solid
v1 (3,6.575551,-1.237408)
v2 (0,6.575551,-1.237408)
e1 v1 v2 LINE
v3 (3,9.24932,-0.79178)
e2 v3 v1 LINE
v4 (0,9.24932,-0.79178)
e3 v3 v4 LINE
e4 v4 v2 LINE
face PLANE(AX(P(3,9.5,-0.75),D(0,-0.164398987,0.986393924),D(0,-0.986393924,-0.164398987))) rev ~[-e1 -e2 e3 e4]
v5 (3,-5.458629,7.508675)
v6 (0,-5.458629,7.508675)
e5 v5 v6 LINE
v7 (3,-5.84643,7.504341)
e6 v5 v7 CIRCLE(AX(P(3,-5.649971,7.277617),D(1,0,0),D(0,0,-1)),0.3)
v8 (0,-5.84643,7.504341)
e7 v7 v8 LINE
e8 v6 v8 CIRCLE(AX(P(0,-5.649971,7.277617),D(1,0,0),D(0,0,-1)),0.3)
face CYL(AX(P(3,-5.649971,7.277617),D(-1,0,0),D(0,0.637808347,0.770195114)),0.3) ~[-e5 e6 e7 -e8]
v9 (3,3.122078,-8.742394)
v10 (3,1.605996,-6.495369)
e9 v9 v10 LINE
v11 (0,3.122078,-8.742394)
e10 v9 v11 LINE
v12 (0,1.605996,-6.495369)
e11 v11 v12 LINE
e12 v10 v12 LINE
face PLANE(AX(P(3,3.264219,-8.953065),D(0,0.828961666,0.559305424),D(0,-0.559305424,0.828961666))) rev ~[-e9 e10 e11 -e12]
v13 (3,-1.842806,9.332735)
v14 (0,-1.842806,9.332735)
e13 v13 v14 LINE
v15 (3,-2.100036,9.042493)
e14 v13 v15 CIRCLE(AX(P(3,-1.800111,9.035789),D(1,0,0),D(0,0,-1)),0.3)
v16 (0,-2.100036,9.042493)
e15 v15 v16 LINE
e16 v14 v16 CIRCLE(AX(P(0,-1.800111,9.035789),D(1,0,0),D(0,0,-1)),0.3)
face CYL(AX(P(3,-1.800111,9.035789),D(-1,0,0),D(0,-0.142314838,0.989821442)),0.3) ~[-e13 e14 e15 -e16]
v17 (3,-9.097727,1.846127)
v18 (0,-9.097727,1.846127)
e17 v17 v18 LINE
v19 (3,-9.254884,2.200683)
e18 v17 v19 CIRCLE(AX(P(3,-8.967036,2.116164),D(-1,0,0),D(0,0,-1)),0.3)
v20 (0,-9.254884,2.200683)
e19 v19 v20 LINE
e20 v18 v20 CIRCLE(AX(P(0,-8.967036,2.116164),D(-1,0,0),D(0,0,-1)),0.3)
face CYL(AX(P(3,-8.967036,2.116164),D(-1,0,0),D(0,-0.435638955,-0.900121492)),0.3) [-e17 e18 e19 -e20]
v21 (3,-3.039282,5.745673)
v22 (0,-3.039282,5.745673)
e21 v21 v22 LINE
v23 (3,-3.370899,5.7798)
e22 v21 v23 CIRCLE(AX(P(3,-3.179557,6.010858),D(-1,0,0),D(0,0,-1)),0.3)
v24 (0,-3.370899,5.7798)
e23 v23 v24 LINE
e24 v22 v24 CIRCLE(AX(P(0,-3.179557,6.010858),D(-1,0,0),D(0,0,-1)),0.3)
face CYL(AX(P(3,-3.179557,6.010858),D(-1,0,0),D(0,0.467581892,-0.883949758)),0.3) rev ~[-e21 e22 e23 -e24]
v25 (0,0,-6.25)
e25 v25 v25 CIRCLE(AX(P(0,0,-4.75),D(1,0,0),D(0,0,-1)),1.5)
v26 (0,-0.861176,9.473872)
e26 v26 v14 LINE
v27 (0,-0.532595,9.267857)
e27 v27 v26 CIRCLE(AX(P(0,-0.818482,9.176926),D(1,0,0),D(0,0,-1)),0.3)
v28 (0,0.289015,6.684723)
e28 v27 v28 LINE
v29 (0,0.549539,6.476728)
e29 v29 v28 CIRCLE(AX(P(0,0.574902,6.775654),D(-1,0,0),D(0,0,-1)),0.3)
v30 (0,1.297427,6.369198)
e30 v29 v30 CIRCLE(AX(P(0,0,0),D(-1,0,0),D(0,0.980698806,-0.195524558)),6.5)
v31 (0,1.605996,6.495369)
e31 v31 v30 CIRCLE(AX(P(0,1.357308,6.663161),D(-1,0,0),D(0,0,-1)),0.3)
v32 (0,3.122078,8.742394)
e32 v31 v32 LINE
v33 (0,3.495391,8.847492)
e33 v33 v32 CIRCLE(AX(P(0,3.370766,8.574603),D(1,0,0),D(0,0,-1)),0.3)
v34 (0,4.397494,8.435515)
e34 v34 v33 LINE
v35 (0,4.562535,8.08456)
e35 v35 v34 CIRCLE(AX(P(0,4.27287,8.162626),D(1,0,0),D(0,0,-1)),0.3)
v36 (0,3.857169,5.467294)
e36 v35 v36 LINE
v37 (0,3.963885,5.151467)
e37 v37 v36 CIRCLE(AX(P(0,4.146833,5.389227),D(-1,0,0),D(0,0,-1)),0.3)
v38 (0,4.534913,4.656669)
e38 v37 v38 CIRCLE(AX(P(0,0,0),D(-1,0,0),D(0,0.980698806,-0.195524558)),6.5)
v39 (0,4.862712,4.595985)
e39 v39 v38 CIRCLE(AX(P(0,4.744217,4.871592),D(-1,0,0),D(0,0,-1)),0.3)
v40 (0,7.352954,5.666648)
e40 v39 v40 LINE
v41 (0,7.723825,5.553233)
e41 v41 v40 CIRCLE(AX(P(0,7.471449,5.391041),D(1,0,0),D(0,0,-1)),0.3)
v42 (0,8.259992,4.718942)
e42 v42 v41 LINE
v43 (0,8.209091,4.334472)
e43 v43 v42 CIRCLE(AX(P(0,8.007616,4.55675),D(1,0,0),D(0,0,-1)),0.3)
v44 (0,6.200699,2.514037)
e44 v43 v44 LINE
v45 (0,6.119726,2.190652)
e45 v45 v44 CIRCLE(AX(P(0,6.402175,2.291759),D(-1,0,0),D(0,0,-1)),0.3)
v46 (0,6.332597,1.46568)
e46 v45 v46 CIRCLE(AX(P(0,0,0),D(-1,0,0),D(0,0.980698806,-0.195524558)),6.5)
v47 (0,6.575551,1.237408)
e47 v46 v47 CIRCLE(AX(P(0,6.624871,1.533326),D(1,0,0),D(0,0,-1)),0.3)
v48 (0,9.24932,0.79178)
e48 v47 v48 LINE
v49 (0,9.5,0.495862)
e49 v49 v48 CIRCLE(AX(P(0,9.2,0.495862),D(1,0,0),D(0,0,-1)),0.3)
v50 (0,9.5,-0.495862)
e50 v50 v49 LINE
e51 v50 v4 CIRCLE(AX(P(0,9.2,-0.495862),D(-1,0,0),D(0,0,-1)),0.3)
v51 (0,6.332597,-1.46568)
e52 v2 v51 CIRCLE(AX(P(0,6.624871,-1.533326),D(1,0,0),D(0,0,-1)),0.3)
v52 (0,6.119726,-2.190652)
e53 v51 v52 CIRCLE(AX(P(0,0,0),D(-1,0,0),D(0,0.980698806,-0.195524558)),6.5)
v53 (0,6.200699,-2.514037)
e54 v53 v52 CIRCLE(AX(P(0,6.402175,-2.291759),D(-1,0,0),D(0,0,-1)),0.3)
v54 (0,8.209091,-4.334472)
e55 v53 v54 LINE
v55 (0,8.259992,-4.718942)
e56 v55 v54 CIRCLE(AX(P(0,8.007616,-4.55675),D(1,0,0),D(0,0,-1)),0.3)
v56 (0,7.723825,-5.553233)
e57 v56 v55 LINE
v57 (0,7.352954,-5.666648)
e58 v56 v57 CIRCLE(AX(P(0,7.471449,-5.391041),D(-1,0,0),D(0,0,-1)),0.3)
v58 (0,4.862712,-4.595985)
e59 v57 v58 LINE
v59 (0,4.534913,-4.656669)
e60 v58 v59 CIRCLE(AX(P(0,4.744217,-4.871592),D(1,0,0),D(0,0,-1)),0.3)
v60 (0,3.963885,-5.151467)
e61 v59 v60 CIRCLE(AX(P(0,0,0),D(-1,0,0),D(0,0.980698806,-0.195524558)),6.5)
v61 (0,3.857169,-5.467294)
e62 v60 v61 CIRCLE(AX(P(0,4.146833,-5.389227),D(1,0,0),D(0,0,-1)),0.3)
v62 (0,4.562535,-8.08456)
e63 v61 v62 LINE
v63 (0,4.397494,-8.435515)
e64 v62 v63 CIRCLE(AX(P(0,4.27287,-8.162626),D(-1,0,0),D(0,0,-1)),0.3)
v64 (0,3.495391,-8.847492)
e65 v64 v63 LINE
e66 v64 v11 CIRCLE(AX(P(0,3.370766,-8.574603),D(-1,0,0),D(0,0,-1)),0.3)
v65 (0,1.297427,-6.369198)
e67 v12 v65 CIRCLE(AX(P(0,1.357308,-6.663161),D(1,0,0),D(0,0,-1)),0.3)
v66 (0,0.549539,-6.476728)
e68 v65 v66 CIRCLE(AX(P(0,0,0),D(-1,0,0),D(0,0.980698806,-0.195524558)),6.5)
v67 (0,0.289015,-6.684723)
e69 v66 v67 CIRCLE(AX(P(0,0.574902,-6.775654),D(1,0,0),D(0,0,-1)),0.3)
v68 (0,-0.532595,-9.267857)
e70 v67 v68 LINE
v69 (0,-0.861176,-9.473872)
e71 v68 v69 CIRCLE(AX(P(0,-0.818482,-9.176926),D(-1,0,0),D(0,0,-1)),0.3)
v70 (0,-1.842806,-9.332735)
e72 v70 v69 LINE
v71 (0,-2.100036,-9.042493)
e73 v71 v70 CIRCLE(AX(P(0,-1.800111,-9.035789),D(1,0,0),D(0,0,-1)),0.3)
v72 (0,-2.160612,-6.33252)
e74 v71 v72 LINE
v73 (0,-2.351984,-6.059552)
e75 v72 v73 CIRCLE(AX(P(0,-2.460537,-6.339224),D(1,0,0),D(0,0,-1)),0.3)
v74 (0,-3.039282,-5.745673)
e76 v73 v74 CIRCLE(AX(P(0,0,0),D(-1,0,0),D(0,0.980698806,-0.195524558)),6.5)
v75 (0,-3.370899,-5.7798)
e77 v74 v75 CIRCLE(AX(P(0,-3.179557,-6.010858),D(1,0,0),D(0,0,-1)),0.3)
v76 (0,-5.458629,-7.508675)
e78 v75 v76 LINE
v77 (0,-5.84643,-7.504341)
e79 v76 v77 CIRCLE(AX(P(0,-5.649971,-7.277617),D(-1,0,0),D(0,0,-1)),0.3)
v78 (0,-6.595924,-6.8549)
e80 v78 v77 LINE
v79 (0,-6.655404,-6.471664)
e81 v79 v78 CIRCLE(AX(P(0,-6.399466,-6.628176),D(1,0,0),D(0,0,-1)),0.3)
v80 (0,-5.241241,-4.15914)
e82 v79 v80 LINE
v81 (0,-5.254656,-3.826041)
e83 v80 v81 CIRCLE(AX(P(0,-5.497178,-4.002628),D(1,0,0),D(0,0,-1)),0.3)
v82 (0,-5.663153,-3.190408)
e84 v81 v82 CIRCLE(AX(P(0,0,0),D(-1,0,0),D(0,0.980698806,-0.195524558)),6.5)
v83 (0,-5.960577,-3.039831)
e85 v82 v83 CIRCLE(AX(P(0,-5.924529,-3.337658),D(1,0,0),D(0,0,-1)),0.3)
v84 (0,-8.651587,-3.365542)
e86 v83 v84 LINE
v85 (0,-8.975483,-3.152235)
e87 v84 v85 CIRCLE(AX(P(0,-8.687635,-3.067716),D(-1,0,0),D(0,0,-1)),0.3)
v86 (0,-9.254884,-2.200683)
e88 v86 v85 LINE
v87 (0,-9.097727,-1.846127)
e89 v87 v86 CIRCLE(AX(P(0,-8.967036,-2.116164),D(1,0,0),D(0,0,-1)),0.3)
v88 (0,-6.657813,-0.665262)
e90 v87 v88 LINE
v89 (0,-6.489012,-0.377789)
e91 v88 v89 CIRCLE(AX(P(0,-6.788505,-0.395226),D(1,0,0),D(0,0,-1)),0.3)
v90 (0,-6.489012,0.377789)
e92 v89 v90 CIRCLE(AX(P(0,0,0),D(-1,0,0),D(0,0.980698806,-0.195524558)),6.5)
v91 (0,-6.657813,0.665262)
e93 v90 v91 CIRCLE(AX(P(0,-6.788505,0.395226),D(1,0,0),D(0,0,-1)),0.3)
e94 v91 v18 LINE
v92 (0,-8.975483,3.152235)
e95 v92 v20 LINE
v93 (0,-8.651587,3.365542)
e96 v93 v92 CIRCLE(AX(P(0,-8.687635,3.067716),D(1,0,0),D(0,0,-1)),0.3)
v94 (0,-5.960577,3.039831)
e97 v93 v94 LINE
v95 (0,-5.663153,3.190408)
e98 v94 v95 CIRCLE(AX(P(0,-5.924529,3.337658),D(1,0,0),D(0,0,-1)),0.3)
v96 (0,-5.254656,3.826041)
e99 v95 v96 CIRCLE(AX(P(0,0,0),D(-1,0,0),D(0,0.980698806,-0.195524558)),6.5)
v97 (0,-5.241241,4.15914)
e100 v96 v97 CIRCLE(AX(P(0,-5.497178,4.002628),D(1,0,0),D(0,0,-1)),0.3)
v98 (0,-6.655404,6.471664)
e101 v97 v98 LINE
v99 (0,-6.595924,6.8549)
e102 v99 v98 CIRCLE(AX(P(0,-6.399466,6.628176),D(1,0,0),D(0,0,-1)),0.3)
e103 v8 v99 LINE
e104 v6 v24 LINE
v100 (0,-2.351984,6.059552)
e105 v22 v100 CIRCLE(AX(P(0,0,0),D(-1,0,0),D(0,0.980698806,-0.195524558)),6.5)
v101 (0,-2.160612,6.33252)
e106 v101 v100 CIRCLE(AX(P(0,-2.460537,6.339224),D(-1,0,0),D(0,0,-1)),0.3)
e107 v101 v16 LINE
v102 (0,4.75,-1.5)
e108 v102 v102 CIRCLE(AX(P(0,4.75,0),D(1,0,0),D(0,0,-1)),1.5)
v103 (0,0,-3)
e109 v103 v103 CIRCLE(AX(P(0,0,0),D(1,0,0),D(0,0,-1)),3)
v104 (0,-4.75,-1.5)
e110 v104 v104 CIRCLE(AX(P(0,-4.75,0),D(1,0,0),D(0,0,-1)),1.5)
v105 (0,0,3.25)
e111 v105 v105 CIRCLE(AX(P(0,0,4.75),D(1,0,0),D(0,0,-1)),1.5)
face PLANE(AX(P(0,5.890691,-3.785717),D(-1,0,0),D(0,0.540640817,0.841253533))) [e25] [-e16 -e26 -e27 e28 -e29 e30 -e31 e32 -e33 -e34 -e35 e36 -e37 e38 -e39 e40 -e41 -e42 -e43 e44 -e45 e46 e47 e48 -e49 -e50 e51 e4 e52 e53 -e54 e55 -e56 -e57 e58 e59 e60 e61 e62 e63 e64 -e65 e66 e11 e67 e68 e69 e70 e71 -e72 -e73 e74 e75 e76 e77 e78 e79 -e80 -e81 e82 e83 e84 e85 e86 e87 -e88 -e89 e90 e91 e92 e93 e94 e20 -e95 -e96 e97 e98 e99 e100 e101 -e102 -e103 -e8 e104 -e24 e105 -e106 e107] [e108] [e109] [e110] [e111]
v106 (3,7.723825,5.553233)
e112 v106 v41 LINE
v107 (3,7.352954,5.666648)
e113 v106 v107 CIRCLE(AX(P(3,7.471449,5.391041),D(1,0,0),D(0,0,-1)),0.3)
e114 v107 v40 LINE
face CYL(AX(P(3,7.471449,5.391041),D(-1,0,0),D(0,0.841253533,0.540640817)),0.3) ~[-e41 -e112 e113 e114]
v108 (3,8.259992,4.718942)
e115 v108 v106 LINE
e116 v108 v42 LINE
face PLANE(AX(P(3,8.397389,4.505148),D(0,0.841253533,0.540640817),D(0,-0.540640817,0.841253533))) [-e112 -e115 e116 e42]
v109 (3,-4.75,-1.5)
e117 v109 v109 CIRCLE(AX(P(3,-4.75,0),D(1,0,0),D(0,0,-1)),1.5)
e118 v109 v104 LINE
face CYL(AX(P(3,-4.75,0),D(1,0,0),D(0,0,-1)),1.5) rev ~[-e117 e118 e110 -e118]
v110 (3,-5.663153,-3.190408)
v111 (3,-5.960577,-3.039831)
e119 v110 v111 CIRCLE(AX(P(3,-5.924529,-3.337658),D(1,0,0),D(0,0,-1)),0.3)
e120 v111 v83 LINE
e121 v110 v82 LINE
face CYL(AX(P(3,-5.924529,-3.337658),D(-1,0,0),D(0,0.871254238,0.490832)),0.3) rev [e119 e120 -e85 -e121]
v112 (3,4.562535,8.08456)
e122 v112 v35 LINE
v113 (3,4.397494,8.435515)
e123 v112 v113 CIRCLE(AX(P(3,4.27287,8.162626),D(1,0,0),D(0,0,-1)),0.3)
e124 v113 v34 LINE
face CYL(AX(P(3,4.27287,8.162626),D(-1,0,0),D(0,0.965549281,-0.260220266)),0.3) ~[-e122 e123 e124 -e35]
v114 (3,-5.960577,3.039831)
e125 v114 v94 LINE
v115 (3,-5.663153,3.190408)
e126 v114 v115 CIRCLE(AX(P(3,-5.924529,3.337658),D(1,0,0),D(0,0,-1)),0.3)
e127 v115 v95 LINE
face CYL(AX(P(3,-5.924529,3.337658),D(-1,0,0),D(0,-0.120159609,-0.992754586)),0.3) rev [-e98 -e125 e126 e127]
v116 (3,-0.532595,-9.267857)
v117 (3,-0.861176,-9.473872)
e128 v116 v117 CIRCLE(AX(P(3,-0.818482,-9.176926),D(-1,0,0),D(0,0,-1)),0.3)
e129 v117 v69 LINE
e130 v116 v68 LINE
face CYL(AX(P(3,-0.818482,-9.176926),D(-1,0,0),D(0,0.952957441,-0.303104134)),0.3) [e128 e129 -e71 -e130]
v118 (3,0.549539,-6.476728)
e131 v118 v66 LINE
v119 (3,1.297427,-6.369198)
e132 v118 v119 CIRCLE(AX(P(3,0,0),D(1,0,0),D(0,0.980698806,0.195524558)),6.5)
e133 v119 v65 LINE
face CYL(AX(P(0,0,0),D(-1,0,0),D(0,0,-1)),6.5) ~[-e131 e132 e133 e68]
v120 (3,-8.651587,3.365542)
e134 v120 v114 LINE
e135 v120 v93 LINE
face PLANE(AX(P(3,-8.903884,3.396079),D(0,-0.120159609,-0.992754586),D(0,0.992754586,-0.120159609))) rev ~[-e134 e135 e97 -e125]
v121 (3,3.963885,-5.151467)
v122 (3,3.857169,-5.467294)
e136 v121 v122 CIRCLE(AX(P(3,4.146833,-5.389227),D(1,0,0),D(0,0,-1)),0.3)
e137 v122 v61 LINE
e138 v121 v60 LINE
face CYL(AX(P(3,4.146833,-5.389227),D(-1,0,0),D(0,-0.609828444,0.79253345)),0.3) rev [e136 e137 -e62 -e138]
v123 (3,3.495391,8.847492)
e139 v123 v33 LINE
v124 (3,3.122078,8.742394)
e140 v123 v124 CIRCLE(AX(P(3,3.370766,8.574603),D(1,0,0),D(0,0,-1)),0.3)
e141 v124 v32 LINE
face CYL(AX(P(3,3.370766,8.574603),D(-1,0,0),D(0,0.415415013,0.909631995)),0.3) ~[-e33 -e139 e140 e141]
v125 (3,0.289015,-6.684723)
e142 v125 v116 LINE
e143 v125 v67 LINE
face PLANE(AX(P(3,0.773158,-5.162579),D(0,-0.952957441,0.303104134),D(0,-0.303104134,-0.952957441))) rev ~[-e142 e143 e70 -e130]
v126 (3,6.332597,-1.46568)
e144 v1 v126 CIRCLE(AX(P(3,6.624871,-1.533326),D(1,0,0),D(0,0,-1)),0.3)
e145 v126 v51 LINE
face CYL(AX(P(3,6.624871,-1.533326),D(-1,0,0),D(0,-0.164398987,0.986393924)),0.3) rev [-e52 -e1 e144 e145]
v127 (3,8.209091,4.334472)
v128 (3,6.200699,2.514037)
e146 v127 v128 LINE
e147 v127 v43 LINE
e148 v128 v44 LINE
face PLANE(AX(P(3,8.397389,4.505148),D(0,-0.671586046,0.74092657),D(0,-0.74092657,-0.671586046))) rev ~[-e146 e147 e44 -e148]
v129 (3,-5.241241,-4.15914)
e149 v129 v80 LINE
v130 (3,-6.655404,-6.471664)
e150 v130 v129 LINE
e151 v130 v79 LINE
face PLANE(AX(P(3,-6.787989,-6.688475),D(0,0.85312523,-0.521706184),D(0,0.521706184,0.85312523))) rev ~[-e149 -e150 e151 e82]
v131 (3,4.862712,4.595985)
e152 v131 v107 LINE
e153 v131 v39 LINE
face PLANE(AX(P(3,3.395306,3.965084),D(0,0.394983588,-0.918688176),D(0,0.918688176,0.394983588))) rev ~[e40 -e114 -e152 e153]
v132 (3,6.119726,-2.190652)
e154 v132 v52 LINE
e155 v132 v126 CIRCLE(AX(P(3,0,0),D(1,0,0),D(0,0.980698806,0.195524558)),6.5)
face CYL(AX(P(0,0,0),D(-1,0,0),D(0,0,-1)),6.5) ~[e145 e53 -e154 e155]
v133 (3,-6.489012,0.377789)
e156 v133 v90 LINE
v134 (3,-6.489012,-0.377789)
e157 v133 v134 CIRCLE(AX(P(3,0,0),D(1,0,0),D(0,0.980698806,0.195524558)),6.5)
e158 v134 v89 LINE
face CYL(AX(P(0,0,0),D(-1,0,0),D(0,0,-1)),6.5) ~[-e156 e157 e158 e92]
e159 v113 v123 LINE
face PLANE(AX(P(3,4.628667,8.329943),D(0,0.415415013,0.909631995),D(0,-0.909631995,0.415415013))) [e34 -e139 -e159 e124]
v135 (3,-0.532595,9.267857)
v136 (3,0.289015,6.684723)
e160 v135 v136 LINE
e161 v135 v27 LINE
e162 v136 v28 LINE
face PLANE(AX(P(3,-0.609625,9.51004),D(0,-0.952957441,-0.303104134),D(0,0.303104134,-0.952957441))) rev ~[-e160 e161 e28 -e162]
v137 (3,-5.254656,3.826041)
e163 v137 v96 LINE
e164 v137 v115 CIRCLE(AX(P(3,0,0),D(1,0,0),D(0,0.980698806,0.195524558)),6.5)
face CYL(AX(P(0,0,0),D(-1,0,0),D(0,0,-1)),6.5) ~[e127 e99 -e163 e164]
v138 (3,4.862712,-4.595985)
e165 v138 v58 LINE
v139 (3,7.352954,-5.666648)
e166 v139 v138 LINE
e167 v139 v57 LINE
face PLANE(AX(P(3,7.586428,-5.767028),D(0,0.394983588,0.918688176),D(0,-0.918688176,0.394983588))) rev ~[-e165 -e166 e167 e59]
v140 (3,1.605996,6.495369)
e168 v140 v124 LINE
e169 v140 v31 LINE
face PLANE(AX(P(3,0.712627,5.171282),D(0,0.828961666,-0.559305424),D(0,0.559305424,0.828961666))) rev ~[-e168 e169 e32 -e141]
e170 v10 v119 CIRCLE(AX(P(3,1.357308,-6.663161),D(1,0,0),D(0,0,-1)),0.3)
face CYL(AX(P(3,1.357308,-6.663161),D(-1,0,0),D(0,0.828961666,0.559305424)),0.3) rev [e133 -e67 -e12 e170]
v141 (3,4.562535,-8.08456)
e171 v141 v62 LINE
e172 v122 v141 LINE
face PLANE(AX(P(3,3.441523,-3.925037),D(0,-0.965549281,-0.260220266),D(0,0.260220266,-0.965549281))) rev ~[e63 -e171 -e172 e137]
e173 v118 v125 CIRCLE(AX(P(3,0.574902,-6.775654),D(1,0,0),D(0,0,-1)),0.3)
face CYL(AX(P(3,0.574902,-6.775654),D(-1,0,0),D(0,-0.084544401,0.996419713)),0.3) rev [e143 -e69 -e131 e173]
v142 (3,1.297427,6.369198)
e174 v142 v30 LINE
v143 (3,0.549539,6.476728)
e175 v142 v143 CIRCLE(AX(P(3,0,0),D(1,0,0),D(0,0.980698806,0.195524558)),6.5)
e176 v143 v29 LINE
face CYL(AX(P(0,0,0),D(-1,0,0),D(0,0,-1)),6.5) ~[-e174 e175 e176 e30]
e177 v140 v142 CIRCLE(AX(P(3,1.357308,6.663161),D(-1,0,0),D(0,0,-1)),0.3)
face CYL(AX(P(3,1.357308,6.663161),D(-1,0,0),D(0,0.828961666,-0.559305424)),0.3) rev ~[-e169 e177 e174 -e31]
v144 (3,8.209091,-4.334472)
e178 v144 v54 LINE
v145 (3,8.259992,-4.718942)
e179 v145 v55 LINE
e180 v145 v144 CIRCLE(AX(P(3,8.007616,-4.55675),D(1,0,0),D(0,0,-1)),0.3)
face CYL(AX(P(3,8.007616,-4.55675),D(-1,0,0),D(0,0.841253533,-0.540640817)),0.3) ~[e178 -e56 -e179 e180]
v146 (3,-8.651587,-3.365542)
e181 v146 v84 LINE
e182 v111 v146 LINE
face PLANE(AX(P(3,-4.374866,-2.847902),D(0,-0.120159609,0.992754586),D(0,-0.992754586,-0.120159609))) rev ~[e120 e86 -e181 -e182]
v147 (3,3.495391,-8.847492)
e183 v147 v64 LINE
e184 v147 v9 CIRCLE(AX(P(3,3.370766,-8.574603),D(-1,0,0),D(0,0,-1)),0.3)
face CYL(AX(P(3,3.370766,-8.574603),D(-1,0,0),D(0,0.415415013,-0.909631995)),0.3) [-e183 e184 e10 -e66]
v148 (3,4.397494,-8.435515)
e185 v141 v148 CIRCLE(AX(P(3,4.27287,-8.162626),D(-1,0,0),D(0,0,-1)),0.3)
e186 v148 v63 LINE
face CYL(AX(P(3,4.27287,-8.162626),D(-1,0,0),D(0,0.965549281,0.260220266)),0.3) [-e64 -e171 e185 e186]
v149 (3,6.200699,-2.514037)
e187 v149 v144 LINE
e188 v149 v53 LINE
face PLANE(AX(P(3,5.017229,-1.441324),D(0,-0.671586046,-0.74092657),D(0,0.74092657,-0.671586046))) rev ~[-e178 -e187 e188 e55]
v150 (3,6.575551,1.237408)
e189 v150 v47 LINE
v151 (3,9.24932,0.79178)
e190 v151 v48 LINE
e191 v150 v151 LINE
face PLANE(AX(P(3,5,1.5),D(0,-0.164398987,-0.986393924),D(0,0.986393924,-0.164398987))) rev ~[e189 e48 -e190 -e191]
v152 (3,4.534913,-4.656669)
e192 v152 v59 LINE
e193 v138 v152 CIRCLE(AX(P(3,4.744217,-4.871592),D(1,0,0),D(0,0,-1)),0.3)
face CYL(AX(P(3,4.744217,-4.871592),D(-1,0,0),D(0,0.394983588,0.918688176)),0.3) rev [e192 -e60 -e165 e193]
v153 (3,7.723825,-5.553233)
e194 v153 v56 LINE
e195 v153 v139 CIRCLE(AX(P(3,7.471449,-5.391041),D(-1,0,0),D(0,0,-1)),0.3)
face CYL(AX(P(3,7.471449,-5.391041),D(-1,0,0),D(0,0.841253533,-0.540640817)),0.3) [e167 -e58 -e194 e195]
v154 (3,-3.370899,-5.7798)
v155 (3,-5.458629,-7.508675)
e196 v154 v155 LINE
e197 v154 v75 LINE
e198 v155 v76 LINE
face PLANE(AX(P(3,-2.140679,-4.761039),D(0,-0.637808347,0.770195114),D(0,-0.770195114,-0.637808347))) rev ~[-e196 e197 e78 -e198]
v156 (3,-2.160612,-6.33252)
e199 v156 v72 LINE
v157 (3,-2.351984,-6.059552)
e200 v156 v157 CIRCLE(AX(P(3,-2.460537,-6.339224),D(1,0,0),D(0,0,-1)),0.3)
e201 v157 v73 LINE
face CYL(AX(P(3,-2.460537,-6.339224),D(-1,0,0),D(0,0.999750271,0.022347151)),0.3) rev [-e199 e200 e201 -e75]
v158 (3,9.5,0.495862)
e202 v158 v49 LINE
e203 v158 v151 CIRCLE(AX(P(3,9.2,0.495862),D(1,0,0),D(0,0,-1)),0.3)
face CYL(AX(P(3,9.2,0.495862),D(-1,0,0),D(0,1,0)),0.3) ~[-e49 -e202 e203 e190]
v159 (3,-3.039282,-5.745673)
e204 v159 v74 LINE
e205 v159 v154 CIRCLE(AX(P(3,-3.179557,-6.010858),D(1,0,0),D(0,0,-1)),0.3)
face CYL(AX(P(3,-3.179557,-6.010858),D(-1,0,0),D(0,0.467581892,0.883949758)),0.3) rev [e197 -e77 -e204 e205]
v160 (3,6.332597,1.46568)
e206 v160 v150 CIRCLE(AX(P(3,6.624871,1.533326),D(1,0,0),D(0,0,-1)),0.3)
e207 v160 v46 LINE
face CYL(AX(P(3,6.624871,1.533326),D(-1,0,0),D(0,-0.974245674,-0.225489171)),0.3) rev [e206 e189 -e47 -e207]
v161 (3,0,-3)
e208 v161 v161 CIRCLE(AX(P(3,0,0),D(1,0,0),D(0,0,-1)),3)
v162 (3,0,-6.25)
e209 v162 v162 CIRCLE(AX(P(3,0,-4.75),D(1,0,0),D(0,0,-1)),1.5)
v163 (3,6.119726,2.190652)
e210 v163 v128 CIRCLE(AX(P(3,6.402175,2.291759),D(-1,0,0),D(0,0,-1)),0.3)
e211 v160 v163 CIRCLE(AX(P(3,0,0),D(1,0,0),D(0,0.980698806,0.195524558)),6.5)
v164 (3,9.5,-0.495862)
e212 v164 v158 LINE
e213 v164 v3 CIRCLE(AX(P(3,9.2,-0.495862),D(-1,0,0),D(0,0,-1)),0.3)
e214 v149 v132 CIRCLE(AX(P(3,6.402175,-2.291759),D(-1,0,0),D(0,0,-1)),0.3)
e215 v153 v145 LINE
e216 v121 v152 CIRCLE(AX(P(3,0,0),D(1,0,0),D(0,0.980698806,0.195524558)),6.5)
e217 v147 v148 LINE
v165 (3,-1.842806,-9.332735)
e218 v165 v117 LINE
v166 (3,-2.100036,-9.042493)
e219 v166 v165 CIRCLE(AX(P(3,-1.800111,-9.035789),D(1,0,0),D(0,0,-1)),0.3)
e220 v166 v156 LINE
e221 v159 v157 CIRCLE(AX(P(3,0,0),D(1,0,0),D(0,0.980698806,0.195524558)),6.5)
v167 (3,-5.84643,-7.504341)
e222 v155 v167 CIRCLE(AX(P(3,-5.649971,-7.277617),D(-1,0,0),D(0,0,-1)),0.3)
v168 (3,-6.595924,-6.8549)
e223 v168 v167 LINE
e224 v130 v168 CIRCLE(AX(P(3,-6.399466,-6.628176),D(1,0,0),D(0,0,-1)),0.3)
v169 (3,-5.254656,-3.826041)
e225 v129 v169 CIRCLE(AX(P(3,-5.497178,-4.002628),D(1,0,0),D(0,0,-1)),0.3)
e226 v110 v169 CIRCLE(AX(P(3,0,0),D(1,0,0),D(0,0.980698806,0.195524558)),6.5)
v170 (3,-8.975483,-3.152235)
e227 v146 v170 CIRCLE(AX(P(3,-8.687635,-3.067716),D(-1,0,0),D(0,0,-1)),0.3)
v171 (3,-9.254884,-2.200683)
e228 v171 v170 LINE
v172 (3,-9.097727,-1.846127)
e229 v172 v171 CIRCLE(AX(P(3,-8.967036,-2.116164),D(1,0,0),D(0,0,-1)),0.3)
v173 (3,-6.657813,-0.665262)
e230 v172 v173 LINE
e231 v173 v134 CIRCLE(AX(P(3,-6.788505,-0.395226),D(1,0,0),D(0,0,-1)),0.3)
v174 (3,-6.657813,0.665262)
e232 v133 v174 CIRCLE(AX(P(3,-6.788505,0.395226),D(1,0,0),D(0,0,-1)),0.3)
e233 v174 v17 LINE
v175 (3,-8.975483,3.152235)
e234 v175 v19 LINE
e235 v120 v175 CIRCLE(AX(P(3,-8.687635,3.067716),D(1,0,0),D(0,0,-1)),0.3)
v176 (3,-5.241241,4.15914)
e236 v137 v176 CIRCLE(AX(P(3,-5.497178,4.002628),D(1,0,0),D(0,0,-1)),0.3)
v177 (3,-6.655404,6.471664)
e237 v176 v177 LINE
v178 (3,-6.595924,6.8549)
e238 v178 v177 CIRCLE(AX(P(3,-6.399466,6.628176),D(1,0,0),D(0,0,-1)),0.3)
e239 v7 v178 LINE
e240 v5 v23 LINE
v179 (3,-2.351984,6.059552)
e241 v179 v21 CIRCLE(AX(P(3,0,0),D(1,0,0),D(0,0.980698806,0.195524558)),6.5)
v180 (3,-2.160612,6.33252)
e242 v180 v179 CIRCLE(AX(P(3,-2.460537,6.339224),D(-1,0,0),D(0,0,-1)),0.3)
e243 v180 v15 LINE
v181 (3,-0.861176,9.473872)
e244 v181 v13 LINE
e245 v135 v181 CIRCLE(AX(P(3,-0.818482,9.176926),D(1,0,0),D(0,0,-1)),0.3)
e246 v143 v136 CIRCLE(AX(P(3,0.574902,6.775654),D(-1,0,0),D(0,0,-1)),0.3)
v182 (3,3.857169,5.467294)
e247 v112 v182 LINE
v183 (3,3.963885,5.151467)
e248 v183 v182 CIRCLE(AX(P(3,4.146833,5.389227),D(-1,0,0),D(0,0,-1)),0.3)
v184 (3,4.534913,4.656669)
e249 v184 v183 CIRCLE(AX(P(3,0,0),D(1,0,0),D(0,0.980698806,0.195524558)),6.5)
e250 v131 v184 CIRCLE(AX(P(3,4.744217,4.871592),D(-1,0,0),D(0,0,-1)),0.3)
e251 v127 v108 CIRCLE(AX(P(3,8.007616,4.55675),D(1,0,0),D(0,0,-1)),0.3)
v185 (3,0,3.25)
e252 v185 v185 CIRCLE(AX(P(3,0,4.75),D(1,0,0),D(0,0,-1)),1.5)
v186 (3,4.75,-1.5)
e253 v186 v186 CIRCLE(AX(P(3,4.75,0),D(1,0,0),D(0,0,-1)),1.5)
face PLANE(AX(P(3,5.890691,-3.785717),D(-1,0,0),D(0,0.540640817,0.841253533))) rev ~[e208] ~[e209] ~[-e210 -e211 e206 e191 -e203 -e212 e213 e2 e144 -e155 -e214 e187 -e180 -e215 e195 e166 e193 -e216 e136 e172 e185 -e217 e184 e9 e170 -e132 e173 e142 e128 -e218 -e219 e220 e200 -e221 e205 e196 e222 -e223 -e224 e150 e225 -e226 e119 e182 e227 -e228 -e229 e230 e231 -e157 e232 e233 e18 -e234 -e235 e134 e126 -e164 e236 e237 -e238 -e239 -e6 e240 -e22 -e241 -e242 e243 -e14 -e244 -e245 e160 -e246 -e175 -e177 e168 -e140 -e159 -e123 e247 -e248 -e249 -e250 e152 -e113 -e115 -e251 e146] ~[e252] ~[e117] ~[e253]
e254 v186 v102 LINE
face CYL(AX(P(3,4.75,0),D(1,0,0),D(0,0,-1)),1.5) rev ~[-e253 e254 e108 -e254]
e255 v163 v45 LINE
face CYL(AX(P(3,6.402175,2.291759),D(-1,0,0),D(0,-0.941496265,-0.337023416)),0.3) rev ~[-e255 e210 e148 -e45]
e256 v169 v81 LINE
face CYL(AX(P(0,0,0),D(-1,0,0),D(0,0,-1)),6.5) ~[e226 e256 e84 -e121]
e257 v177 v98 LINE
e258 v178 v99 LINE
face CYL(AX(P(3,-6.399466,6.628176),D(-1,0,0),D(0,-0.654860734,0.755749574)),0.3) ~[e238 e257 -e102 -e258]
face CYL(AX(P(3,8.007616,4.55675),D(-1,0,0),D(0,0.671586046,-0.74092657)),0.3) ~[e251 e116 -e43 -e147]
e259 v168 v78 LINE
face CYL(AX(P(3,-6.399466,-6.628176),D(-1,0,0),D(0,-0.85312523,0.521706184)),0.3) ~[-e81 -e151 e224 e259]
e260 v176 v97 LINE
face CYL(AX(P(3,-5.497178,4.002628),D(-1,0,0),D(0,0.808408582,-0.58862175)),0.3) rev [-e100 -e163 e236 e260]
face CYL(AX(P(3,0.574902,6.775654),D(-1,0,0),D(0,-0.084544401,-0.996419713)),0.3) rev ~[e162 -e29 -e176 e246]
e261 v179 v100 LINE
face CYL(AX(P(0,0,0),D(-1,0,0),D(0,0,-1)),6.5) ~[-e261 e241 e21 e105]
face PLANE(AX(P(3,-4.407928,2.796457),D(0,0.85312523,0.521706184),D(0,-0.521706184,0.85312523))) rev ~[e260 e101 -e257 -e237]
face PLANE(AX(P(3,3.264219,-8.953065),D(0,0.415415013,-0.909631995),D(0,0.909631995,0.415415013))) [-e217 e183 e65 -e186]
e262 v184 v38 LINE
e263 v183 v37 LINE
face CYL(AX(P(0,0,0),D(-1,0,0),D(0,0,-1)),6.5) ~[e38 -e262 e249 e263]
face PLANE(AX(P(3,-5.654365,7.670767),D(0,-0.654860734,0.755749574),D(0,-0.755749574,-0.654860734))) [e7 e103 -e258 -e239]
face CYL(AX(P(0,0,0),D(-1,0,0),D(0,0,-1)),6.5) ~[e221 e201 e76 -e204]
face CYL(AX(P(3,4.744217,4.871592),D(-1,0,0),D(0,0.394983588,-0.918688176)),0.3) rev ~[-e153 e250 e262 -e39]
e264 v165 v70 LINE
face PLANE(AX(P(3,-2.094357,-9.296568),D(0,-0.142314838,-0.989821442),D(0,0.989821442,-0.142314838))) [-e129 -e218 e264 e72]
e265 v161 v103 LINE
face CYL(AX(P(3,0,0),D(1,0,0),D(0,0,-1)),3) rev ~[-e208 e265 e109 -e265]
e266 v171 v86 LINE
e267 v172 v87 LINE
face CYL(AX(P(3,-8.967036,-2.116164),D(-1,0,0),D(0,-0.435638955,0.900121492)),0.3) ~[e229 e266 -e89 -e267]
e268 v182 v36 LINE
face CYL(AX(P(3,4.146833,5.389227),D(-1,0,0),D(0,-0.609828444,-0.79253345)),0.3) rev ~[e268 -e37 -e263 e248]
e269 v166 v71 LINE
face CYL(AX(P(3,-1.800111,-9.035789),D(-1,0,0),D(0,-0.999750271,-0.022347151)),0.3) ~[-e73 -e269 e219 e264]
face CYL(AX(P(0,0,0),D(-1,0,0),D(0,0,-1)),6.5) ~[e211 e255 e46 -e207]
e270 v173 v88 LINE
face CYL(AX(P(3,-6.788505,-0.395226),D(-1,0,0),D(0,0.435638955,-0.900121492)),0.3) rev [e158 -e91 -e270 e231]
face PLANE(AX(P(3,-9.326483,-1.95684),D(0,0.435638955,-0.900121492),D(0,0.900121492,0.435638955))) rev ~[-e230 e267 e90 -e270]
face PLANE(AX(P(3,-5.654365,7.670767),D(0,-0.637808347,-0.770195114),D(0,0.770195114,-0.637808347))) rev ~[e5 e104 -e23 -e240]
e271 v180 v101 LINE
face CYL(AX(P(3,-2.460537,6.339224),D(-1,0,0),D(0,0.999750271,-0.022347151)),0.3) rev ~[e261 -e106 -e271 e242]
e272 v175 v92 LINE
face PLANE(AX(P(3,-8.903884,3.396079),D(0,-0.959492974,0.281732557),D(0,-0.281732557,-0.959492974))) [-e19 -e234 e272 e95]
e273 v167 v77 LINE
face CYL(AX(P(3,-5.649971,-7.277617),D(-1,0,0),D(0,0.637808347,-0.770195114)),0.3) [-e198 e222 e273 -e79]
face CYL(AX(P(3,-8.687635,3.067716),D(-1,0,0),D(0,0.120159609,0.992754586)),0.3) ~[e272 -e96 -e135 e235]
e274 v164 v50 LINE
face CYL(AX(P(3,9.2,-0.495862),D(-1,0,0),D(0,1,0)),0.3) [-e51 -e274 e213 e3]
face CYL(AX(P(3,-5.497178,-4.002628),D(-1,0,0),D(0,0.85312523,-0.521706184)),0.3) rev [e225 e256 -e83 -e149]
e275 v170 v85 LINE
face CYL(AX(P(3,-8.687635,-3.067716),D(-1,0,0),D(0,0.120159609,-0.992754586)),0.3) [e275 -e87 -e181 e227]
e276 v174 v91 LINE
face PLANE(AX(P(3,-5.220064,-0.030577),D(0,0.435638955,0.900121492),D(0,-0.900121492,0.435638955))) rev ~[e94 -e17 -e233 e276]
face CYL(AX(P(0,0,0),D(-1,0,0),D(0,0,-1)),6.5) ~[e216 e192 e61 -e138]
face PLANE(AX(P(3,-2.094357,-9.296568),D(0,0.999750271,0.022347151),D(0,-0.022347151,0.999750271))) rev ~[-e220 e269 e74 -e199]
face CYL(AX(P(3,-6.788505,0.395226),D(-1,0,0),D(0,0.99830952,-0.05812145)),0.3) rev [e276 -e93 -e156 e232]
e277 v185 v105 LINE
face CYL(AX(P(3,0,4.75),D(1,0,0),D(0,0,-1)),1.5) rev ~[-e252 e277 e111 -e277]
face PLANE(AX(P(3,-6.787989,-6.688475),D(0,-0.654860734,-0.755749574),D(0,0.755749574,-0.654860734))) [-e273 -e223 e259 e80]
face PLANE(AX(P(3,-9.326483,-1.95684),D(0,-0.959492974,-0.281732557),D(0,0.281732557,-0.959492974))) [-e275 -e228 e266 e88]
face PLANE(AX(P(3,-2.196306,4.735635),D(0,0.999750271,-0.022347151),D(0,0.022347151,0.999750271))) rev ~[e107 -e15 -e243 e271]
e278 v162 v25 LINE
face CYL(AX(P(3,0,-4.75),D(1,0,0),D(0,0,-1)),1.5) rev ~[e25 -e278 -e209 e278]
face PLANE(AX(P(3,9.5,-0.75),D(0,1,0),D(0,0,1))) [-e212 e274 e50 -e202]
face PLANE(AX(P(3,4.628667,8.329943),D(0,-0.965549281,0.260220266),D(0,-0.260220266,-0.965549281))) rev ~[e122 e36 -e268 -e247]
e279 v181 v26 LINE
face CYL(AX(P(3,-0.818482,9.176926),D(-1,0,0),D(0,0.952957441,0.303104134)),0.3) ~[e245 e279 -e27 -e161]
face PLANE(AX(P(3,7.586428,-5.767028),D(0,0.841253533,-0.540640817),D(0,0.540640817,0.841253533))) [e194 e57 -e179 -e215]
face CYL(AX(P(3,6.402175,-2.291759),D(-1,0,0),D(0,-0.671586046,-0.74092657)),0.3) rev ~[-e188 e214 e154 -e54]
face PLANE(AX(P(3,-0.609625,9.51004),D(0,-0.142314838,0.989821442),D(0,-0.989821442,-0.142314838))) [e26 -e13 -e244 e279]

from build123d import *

# Parameters (mm, degrees)
SKETCH9_R                 = 6.5
BOSS_EXTRUDE3_DEPTH       = 3
BOSS_EXTRUDE4_DEPTH       = 3
FILLET9_R                 = 0.3
FILLET10_R                = 0.3
FILLET11_R                = 0.3
FILLET12_R                = 0.3
CIRPATTERN6_COUNT         = 11
FILLET9_OF_CIRPATTERN6_R  = 0.3
FILLET10_OF_CIRPATTERN6_R = 0.3
FILLET11_OF_CIRPATTERN6_R = 0.3
FILLET12_OF_CIRPATTERN6_R = 0.3
SKETCH11_R                = 1.5
CUT_EXTRUDE1_DEPTH        = 3
SKETCH12_R                = 3
CUT_EXTRUDE2_DEPTH        = 3


with BuildPart() as part:
    # Sketch9 → Boss-Extrude3 (new body)
    with BuildSketch(Plane(origin=(0, 0, 0), x_dir=(0, 0, -1), z_dir=(1, 0, 0))):
        Circle(SKETCH9_R)
    extrude(amount=BOSS_EXTRUDE3_DEPTH)

    # Sketch10 → Boss-Extrude4 (add)
    with BuildSketch(Plane(origin=(3, 0, 0), x_dir=(0, 0, -1), z_dir=(1, 0, 0))):
        Polygon((0, 9.5), (0.75, 9.5), (1.5, 5), (0, 5), (-1.5, 5), (-0.75, 9.5), align=None)
    boss_extrude4 = extrude(amount=-BOSS_EXTRUDE4_DEPTH)

    # Fillet9
    fillet9_edges = [part.edges().sort_by_distance(p)[0] for p in [
        (1.5, 9.5, -0.75),
    ]]
    fillet(fillet9_edges, radius=FILLET9_R)

    # Fillet10
    fillet10_edges = [part.edges().sort_by_distance(p)[0] for p in [
        (1.5, 9.5, 0.75),
    ]]
    fillet(fillet10_edges, radius=FILLET10_R)

    # Fillet11
    fillet11_edges = [part.edges().sort_by_distance(p)[0] for p in [
        (1.5, 6.374542236, -1.270909627),
    ]]
    fillet(fillet11_edges, radius=FILLET11_R)

    # Fillet12
    fillet12_edges = [part.edges().sort_by_distance(p)[0] for p in [
        (1.5, 6.374542236, 1.270909627),
    ]]
    fillet(fillet12_edges, radius=FILLET12_R)

    # CirPattern6: Boss-Extrude4 ×11 about axis
    cirpattern6_axis = Axis((0, 0, 0), (1, 0, 0))
    for i in range(1, CIRPATTERN6_COUNT):
        add(boss_extrude4.rotate(cirpattern6_axis, i * 360 / CIRPATTERN6_COUNT))

    # Fillet9 of CirPattern6
    fillet9_of_cirpattern6_edges = [part.edges().sort_by_distance(p)[0] for p in [
        (1.5, 8.397389175, 4.505147616),
        (1.5, 4.62866662, 8.329942696),
        (1.5, -0.609624882, 9.510039827),
        (1.5, -5.654364792, 7.670766507),
        (1.5, -8.903883832, 3.39607902),
        (1.5, -9.326482667, -1.95683956),
        (1.5, -6.787989153, -6.688475406),
        (1.5, -2.094357045, -9.296567569),
        (1.5, 3.264218627, -8.953065216),
        (1.5, 7.586427949, -5.767027915),
    ]]
    fillet(fillet9_of_cirpattern6_edges, radius=FILLET9_OF_CIRPATTERN6_R)

    # Fillet10 of CirPattern6
    fillet10_of_cirpattern6_edges = [part.edges().sort_by_distance(p)[0] for p in [
        (1.5, 7.586427949, 5.767027915),
        (1.5, 3.264218627, 8.953065216),
        (1.5, -2.094357045, 9.296567569),
        (1.5, -6.787989153, 6.688475406),
        (1.5, -9.326482667, 1.95683956),
        (1.5, -8.903883832, -3.39607902),
        (1.5, -5.654364792, -7.670766507),
        (1.5, -0.609624882, -9.510039827),
        (1.5, 4.62866662, -8.329942696),
        (1.5, 8.397389175, -4.505147616),
    ]]
    fillet(fillet10_of_cirpattern6_edges, radius=FILLET10_OF_CIRPATTERN6_R)

    # Fillet11 of CirPattern6
    fillet11_of_cirpattern6_edges = [part.edges().sort_by_distance(p)[0] for p in [
        (1.5, 6.049711796, 2.377180512),
        (1.5, 3.804140606, 5.270532634),
        (1.5, 0.350781652, 6.490527885),
        (1.5, -3.213947997, 5.649826393),
        (1.5, -5.758271867, 3.01534494),
        (1.5, -6.474385104, -0.576487225),
        (1.5, -5.134926817, -3.98528877),
        (1.5, -2.165165547, -6.128789289),
        (1.5, 1.492020486, -6.326442513),
        (1.5, 4.675500556, -4.515494939),
    ]]
    fillet(fillet11_of_cirpattern6_edges, radius=FILLET11_OF_CIRPATTERN6_R)

    # Fillet12 of CirPattern6
    fillet12_of_cirpattern6_edges = [part.edges().sort_by_distance(p)[0] for p in [
        (1.5, 4.675500556, 4.515494939),
        (1.5, 1.492020486, 6.326442513),
        (1.5, -2.165165547, 6.128789289),
        (1.5, -5.134926817, 3.98528877),
        (1.5, -6.474385104, 0.576487225),
        (1.5, -5.758271867, -3.01534494),
        (1.5, -3.213947997, -5.649826393),
        (1.5, 0.350781652, -6.490527885),
        (1.5, 3.804140606, -5.270532634),
        (1.5, 6.049711796, -2.377180512),
    ]]
    fillet(fillet12_of_cirpattern6_edges, radius=FILLET12_OF_CIRPATTERN6_R)

    # Sketch11 → Cut-Extrude1 (cut)
    with BuildSketch(Plane(origin=(3, 0, 0), x_dir=(0, 0, -1), z_dir=(1, 0, 0))):
        with Locations((0, 4.75)):
            Circle(SKETCH11_R)
        with Locations((4.75, 0)):
            Circle(SKETCH11_R)
        with Locations((-4.75, 0)):
            Circle(SKETCH11_R)
        with Locations((0, -4.75)):
            Circle(SKETCH11_R)
    extrude(amount=-CUT_EXTRUDE1_DEPTH, mode=Mode.SUBTRACT)

    # Sketch12 → Cut-Extrude2 (cut)
    with BuildSketch(Plane(origin=(3, 0, 0), x_dir=(0, 0, -1), z_dir=(1, 0, 0))):
        Circle(SKETCH12_R)
    extrude(amount=-CUT_EXTRUDE2_DEPTH, mode=Mode.SUBTRACT)


solid = part.part
